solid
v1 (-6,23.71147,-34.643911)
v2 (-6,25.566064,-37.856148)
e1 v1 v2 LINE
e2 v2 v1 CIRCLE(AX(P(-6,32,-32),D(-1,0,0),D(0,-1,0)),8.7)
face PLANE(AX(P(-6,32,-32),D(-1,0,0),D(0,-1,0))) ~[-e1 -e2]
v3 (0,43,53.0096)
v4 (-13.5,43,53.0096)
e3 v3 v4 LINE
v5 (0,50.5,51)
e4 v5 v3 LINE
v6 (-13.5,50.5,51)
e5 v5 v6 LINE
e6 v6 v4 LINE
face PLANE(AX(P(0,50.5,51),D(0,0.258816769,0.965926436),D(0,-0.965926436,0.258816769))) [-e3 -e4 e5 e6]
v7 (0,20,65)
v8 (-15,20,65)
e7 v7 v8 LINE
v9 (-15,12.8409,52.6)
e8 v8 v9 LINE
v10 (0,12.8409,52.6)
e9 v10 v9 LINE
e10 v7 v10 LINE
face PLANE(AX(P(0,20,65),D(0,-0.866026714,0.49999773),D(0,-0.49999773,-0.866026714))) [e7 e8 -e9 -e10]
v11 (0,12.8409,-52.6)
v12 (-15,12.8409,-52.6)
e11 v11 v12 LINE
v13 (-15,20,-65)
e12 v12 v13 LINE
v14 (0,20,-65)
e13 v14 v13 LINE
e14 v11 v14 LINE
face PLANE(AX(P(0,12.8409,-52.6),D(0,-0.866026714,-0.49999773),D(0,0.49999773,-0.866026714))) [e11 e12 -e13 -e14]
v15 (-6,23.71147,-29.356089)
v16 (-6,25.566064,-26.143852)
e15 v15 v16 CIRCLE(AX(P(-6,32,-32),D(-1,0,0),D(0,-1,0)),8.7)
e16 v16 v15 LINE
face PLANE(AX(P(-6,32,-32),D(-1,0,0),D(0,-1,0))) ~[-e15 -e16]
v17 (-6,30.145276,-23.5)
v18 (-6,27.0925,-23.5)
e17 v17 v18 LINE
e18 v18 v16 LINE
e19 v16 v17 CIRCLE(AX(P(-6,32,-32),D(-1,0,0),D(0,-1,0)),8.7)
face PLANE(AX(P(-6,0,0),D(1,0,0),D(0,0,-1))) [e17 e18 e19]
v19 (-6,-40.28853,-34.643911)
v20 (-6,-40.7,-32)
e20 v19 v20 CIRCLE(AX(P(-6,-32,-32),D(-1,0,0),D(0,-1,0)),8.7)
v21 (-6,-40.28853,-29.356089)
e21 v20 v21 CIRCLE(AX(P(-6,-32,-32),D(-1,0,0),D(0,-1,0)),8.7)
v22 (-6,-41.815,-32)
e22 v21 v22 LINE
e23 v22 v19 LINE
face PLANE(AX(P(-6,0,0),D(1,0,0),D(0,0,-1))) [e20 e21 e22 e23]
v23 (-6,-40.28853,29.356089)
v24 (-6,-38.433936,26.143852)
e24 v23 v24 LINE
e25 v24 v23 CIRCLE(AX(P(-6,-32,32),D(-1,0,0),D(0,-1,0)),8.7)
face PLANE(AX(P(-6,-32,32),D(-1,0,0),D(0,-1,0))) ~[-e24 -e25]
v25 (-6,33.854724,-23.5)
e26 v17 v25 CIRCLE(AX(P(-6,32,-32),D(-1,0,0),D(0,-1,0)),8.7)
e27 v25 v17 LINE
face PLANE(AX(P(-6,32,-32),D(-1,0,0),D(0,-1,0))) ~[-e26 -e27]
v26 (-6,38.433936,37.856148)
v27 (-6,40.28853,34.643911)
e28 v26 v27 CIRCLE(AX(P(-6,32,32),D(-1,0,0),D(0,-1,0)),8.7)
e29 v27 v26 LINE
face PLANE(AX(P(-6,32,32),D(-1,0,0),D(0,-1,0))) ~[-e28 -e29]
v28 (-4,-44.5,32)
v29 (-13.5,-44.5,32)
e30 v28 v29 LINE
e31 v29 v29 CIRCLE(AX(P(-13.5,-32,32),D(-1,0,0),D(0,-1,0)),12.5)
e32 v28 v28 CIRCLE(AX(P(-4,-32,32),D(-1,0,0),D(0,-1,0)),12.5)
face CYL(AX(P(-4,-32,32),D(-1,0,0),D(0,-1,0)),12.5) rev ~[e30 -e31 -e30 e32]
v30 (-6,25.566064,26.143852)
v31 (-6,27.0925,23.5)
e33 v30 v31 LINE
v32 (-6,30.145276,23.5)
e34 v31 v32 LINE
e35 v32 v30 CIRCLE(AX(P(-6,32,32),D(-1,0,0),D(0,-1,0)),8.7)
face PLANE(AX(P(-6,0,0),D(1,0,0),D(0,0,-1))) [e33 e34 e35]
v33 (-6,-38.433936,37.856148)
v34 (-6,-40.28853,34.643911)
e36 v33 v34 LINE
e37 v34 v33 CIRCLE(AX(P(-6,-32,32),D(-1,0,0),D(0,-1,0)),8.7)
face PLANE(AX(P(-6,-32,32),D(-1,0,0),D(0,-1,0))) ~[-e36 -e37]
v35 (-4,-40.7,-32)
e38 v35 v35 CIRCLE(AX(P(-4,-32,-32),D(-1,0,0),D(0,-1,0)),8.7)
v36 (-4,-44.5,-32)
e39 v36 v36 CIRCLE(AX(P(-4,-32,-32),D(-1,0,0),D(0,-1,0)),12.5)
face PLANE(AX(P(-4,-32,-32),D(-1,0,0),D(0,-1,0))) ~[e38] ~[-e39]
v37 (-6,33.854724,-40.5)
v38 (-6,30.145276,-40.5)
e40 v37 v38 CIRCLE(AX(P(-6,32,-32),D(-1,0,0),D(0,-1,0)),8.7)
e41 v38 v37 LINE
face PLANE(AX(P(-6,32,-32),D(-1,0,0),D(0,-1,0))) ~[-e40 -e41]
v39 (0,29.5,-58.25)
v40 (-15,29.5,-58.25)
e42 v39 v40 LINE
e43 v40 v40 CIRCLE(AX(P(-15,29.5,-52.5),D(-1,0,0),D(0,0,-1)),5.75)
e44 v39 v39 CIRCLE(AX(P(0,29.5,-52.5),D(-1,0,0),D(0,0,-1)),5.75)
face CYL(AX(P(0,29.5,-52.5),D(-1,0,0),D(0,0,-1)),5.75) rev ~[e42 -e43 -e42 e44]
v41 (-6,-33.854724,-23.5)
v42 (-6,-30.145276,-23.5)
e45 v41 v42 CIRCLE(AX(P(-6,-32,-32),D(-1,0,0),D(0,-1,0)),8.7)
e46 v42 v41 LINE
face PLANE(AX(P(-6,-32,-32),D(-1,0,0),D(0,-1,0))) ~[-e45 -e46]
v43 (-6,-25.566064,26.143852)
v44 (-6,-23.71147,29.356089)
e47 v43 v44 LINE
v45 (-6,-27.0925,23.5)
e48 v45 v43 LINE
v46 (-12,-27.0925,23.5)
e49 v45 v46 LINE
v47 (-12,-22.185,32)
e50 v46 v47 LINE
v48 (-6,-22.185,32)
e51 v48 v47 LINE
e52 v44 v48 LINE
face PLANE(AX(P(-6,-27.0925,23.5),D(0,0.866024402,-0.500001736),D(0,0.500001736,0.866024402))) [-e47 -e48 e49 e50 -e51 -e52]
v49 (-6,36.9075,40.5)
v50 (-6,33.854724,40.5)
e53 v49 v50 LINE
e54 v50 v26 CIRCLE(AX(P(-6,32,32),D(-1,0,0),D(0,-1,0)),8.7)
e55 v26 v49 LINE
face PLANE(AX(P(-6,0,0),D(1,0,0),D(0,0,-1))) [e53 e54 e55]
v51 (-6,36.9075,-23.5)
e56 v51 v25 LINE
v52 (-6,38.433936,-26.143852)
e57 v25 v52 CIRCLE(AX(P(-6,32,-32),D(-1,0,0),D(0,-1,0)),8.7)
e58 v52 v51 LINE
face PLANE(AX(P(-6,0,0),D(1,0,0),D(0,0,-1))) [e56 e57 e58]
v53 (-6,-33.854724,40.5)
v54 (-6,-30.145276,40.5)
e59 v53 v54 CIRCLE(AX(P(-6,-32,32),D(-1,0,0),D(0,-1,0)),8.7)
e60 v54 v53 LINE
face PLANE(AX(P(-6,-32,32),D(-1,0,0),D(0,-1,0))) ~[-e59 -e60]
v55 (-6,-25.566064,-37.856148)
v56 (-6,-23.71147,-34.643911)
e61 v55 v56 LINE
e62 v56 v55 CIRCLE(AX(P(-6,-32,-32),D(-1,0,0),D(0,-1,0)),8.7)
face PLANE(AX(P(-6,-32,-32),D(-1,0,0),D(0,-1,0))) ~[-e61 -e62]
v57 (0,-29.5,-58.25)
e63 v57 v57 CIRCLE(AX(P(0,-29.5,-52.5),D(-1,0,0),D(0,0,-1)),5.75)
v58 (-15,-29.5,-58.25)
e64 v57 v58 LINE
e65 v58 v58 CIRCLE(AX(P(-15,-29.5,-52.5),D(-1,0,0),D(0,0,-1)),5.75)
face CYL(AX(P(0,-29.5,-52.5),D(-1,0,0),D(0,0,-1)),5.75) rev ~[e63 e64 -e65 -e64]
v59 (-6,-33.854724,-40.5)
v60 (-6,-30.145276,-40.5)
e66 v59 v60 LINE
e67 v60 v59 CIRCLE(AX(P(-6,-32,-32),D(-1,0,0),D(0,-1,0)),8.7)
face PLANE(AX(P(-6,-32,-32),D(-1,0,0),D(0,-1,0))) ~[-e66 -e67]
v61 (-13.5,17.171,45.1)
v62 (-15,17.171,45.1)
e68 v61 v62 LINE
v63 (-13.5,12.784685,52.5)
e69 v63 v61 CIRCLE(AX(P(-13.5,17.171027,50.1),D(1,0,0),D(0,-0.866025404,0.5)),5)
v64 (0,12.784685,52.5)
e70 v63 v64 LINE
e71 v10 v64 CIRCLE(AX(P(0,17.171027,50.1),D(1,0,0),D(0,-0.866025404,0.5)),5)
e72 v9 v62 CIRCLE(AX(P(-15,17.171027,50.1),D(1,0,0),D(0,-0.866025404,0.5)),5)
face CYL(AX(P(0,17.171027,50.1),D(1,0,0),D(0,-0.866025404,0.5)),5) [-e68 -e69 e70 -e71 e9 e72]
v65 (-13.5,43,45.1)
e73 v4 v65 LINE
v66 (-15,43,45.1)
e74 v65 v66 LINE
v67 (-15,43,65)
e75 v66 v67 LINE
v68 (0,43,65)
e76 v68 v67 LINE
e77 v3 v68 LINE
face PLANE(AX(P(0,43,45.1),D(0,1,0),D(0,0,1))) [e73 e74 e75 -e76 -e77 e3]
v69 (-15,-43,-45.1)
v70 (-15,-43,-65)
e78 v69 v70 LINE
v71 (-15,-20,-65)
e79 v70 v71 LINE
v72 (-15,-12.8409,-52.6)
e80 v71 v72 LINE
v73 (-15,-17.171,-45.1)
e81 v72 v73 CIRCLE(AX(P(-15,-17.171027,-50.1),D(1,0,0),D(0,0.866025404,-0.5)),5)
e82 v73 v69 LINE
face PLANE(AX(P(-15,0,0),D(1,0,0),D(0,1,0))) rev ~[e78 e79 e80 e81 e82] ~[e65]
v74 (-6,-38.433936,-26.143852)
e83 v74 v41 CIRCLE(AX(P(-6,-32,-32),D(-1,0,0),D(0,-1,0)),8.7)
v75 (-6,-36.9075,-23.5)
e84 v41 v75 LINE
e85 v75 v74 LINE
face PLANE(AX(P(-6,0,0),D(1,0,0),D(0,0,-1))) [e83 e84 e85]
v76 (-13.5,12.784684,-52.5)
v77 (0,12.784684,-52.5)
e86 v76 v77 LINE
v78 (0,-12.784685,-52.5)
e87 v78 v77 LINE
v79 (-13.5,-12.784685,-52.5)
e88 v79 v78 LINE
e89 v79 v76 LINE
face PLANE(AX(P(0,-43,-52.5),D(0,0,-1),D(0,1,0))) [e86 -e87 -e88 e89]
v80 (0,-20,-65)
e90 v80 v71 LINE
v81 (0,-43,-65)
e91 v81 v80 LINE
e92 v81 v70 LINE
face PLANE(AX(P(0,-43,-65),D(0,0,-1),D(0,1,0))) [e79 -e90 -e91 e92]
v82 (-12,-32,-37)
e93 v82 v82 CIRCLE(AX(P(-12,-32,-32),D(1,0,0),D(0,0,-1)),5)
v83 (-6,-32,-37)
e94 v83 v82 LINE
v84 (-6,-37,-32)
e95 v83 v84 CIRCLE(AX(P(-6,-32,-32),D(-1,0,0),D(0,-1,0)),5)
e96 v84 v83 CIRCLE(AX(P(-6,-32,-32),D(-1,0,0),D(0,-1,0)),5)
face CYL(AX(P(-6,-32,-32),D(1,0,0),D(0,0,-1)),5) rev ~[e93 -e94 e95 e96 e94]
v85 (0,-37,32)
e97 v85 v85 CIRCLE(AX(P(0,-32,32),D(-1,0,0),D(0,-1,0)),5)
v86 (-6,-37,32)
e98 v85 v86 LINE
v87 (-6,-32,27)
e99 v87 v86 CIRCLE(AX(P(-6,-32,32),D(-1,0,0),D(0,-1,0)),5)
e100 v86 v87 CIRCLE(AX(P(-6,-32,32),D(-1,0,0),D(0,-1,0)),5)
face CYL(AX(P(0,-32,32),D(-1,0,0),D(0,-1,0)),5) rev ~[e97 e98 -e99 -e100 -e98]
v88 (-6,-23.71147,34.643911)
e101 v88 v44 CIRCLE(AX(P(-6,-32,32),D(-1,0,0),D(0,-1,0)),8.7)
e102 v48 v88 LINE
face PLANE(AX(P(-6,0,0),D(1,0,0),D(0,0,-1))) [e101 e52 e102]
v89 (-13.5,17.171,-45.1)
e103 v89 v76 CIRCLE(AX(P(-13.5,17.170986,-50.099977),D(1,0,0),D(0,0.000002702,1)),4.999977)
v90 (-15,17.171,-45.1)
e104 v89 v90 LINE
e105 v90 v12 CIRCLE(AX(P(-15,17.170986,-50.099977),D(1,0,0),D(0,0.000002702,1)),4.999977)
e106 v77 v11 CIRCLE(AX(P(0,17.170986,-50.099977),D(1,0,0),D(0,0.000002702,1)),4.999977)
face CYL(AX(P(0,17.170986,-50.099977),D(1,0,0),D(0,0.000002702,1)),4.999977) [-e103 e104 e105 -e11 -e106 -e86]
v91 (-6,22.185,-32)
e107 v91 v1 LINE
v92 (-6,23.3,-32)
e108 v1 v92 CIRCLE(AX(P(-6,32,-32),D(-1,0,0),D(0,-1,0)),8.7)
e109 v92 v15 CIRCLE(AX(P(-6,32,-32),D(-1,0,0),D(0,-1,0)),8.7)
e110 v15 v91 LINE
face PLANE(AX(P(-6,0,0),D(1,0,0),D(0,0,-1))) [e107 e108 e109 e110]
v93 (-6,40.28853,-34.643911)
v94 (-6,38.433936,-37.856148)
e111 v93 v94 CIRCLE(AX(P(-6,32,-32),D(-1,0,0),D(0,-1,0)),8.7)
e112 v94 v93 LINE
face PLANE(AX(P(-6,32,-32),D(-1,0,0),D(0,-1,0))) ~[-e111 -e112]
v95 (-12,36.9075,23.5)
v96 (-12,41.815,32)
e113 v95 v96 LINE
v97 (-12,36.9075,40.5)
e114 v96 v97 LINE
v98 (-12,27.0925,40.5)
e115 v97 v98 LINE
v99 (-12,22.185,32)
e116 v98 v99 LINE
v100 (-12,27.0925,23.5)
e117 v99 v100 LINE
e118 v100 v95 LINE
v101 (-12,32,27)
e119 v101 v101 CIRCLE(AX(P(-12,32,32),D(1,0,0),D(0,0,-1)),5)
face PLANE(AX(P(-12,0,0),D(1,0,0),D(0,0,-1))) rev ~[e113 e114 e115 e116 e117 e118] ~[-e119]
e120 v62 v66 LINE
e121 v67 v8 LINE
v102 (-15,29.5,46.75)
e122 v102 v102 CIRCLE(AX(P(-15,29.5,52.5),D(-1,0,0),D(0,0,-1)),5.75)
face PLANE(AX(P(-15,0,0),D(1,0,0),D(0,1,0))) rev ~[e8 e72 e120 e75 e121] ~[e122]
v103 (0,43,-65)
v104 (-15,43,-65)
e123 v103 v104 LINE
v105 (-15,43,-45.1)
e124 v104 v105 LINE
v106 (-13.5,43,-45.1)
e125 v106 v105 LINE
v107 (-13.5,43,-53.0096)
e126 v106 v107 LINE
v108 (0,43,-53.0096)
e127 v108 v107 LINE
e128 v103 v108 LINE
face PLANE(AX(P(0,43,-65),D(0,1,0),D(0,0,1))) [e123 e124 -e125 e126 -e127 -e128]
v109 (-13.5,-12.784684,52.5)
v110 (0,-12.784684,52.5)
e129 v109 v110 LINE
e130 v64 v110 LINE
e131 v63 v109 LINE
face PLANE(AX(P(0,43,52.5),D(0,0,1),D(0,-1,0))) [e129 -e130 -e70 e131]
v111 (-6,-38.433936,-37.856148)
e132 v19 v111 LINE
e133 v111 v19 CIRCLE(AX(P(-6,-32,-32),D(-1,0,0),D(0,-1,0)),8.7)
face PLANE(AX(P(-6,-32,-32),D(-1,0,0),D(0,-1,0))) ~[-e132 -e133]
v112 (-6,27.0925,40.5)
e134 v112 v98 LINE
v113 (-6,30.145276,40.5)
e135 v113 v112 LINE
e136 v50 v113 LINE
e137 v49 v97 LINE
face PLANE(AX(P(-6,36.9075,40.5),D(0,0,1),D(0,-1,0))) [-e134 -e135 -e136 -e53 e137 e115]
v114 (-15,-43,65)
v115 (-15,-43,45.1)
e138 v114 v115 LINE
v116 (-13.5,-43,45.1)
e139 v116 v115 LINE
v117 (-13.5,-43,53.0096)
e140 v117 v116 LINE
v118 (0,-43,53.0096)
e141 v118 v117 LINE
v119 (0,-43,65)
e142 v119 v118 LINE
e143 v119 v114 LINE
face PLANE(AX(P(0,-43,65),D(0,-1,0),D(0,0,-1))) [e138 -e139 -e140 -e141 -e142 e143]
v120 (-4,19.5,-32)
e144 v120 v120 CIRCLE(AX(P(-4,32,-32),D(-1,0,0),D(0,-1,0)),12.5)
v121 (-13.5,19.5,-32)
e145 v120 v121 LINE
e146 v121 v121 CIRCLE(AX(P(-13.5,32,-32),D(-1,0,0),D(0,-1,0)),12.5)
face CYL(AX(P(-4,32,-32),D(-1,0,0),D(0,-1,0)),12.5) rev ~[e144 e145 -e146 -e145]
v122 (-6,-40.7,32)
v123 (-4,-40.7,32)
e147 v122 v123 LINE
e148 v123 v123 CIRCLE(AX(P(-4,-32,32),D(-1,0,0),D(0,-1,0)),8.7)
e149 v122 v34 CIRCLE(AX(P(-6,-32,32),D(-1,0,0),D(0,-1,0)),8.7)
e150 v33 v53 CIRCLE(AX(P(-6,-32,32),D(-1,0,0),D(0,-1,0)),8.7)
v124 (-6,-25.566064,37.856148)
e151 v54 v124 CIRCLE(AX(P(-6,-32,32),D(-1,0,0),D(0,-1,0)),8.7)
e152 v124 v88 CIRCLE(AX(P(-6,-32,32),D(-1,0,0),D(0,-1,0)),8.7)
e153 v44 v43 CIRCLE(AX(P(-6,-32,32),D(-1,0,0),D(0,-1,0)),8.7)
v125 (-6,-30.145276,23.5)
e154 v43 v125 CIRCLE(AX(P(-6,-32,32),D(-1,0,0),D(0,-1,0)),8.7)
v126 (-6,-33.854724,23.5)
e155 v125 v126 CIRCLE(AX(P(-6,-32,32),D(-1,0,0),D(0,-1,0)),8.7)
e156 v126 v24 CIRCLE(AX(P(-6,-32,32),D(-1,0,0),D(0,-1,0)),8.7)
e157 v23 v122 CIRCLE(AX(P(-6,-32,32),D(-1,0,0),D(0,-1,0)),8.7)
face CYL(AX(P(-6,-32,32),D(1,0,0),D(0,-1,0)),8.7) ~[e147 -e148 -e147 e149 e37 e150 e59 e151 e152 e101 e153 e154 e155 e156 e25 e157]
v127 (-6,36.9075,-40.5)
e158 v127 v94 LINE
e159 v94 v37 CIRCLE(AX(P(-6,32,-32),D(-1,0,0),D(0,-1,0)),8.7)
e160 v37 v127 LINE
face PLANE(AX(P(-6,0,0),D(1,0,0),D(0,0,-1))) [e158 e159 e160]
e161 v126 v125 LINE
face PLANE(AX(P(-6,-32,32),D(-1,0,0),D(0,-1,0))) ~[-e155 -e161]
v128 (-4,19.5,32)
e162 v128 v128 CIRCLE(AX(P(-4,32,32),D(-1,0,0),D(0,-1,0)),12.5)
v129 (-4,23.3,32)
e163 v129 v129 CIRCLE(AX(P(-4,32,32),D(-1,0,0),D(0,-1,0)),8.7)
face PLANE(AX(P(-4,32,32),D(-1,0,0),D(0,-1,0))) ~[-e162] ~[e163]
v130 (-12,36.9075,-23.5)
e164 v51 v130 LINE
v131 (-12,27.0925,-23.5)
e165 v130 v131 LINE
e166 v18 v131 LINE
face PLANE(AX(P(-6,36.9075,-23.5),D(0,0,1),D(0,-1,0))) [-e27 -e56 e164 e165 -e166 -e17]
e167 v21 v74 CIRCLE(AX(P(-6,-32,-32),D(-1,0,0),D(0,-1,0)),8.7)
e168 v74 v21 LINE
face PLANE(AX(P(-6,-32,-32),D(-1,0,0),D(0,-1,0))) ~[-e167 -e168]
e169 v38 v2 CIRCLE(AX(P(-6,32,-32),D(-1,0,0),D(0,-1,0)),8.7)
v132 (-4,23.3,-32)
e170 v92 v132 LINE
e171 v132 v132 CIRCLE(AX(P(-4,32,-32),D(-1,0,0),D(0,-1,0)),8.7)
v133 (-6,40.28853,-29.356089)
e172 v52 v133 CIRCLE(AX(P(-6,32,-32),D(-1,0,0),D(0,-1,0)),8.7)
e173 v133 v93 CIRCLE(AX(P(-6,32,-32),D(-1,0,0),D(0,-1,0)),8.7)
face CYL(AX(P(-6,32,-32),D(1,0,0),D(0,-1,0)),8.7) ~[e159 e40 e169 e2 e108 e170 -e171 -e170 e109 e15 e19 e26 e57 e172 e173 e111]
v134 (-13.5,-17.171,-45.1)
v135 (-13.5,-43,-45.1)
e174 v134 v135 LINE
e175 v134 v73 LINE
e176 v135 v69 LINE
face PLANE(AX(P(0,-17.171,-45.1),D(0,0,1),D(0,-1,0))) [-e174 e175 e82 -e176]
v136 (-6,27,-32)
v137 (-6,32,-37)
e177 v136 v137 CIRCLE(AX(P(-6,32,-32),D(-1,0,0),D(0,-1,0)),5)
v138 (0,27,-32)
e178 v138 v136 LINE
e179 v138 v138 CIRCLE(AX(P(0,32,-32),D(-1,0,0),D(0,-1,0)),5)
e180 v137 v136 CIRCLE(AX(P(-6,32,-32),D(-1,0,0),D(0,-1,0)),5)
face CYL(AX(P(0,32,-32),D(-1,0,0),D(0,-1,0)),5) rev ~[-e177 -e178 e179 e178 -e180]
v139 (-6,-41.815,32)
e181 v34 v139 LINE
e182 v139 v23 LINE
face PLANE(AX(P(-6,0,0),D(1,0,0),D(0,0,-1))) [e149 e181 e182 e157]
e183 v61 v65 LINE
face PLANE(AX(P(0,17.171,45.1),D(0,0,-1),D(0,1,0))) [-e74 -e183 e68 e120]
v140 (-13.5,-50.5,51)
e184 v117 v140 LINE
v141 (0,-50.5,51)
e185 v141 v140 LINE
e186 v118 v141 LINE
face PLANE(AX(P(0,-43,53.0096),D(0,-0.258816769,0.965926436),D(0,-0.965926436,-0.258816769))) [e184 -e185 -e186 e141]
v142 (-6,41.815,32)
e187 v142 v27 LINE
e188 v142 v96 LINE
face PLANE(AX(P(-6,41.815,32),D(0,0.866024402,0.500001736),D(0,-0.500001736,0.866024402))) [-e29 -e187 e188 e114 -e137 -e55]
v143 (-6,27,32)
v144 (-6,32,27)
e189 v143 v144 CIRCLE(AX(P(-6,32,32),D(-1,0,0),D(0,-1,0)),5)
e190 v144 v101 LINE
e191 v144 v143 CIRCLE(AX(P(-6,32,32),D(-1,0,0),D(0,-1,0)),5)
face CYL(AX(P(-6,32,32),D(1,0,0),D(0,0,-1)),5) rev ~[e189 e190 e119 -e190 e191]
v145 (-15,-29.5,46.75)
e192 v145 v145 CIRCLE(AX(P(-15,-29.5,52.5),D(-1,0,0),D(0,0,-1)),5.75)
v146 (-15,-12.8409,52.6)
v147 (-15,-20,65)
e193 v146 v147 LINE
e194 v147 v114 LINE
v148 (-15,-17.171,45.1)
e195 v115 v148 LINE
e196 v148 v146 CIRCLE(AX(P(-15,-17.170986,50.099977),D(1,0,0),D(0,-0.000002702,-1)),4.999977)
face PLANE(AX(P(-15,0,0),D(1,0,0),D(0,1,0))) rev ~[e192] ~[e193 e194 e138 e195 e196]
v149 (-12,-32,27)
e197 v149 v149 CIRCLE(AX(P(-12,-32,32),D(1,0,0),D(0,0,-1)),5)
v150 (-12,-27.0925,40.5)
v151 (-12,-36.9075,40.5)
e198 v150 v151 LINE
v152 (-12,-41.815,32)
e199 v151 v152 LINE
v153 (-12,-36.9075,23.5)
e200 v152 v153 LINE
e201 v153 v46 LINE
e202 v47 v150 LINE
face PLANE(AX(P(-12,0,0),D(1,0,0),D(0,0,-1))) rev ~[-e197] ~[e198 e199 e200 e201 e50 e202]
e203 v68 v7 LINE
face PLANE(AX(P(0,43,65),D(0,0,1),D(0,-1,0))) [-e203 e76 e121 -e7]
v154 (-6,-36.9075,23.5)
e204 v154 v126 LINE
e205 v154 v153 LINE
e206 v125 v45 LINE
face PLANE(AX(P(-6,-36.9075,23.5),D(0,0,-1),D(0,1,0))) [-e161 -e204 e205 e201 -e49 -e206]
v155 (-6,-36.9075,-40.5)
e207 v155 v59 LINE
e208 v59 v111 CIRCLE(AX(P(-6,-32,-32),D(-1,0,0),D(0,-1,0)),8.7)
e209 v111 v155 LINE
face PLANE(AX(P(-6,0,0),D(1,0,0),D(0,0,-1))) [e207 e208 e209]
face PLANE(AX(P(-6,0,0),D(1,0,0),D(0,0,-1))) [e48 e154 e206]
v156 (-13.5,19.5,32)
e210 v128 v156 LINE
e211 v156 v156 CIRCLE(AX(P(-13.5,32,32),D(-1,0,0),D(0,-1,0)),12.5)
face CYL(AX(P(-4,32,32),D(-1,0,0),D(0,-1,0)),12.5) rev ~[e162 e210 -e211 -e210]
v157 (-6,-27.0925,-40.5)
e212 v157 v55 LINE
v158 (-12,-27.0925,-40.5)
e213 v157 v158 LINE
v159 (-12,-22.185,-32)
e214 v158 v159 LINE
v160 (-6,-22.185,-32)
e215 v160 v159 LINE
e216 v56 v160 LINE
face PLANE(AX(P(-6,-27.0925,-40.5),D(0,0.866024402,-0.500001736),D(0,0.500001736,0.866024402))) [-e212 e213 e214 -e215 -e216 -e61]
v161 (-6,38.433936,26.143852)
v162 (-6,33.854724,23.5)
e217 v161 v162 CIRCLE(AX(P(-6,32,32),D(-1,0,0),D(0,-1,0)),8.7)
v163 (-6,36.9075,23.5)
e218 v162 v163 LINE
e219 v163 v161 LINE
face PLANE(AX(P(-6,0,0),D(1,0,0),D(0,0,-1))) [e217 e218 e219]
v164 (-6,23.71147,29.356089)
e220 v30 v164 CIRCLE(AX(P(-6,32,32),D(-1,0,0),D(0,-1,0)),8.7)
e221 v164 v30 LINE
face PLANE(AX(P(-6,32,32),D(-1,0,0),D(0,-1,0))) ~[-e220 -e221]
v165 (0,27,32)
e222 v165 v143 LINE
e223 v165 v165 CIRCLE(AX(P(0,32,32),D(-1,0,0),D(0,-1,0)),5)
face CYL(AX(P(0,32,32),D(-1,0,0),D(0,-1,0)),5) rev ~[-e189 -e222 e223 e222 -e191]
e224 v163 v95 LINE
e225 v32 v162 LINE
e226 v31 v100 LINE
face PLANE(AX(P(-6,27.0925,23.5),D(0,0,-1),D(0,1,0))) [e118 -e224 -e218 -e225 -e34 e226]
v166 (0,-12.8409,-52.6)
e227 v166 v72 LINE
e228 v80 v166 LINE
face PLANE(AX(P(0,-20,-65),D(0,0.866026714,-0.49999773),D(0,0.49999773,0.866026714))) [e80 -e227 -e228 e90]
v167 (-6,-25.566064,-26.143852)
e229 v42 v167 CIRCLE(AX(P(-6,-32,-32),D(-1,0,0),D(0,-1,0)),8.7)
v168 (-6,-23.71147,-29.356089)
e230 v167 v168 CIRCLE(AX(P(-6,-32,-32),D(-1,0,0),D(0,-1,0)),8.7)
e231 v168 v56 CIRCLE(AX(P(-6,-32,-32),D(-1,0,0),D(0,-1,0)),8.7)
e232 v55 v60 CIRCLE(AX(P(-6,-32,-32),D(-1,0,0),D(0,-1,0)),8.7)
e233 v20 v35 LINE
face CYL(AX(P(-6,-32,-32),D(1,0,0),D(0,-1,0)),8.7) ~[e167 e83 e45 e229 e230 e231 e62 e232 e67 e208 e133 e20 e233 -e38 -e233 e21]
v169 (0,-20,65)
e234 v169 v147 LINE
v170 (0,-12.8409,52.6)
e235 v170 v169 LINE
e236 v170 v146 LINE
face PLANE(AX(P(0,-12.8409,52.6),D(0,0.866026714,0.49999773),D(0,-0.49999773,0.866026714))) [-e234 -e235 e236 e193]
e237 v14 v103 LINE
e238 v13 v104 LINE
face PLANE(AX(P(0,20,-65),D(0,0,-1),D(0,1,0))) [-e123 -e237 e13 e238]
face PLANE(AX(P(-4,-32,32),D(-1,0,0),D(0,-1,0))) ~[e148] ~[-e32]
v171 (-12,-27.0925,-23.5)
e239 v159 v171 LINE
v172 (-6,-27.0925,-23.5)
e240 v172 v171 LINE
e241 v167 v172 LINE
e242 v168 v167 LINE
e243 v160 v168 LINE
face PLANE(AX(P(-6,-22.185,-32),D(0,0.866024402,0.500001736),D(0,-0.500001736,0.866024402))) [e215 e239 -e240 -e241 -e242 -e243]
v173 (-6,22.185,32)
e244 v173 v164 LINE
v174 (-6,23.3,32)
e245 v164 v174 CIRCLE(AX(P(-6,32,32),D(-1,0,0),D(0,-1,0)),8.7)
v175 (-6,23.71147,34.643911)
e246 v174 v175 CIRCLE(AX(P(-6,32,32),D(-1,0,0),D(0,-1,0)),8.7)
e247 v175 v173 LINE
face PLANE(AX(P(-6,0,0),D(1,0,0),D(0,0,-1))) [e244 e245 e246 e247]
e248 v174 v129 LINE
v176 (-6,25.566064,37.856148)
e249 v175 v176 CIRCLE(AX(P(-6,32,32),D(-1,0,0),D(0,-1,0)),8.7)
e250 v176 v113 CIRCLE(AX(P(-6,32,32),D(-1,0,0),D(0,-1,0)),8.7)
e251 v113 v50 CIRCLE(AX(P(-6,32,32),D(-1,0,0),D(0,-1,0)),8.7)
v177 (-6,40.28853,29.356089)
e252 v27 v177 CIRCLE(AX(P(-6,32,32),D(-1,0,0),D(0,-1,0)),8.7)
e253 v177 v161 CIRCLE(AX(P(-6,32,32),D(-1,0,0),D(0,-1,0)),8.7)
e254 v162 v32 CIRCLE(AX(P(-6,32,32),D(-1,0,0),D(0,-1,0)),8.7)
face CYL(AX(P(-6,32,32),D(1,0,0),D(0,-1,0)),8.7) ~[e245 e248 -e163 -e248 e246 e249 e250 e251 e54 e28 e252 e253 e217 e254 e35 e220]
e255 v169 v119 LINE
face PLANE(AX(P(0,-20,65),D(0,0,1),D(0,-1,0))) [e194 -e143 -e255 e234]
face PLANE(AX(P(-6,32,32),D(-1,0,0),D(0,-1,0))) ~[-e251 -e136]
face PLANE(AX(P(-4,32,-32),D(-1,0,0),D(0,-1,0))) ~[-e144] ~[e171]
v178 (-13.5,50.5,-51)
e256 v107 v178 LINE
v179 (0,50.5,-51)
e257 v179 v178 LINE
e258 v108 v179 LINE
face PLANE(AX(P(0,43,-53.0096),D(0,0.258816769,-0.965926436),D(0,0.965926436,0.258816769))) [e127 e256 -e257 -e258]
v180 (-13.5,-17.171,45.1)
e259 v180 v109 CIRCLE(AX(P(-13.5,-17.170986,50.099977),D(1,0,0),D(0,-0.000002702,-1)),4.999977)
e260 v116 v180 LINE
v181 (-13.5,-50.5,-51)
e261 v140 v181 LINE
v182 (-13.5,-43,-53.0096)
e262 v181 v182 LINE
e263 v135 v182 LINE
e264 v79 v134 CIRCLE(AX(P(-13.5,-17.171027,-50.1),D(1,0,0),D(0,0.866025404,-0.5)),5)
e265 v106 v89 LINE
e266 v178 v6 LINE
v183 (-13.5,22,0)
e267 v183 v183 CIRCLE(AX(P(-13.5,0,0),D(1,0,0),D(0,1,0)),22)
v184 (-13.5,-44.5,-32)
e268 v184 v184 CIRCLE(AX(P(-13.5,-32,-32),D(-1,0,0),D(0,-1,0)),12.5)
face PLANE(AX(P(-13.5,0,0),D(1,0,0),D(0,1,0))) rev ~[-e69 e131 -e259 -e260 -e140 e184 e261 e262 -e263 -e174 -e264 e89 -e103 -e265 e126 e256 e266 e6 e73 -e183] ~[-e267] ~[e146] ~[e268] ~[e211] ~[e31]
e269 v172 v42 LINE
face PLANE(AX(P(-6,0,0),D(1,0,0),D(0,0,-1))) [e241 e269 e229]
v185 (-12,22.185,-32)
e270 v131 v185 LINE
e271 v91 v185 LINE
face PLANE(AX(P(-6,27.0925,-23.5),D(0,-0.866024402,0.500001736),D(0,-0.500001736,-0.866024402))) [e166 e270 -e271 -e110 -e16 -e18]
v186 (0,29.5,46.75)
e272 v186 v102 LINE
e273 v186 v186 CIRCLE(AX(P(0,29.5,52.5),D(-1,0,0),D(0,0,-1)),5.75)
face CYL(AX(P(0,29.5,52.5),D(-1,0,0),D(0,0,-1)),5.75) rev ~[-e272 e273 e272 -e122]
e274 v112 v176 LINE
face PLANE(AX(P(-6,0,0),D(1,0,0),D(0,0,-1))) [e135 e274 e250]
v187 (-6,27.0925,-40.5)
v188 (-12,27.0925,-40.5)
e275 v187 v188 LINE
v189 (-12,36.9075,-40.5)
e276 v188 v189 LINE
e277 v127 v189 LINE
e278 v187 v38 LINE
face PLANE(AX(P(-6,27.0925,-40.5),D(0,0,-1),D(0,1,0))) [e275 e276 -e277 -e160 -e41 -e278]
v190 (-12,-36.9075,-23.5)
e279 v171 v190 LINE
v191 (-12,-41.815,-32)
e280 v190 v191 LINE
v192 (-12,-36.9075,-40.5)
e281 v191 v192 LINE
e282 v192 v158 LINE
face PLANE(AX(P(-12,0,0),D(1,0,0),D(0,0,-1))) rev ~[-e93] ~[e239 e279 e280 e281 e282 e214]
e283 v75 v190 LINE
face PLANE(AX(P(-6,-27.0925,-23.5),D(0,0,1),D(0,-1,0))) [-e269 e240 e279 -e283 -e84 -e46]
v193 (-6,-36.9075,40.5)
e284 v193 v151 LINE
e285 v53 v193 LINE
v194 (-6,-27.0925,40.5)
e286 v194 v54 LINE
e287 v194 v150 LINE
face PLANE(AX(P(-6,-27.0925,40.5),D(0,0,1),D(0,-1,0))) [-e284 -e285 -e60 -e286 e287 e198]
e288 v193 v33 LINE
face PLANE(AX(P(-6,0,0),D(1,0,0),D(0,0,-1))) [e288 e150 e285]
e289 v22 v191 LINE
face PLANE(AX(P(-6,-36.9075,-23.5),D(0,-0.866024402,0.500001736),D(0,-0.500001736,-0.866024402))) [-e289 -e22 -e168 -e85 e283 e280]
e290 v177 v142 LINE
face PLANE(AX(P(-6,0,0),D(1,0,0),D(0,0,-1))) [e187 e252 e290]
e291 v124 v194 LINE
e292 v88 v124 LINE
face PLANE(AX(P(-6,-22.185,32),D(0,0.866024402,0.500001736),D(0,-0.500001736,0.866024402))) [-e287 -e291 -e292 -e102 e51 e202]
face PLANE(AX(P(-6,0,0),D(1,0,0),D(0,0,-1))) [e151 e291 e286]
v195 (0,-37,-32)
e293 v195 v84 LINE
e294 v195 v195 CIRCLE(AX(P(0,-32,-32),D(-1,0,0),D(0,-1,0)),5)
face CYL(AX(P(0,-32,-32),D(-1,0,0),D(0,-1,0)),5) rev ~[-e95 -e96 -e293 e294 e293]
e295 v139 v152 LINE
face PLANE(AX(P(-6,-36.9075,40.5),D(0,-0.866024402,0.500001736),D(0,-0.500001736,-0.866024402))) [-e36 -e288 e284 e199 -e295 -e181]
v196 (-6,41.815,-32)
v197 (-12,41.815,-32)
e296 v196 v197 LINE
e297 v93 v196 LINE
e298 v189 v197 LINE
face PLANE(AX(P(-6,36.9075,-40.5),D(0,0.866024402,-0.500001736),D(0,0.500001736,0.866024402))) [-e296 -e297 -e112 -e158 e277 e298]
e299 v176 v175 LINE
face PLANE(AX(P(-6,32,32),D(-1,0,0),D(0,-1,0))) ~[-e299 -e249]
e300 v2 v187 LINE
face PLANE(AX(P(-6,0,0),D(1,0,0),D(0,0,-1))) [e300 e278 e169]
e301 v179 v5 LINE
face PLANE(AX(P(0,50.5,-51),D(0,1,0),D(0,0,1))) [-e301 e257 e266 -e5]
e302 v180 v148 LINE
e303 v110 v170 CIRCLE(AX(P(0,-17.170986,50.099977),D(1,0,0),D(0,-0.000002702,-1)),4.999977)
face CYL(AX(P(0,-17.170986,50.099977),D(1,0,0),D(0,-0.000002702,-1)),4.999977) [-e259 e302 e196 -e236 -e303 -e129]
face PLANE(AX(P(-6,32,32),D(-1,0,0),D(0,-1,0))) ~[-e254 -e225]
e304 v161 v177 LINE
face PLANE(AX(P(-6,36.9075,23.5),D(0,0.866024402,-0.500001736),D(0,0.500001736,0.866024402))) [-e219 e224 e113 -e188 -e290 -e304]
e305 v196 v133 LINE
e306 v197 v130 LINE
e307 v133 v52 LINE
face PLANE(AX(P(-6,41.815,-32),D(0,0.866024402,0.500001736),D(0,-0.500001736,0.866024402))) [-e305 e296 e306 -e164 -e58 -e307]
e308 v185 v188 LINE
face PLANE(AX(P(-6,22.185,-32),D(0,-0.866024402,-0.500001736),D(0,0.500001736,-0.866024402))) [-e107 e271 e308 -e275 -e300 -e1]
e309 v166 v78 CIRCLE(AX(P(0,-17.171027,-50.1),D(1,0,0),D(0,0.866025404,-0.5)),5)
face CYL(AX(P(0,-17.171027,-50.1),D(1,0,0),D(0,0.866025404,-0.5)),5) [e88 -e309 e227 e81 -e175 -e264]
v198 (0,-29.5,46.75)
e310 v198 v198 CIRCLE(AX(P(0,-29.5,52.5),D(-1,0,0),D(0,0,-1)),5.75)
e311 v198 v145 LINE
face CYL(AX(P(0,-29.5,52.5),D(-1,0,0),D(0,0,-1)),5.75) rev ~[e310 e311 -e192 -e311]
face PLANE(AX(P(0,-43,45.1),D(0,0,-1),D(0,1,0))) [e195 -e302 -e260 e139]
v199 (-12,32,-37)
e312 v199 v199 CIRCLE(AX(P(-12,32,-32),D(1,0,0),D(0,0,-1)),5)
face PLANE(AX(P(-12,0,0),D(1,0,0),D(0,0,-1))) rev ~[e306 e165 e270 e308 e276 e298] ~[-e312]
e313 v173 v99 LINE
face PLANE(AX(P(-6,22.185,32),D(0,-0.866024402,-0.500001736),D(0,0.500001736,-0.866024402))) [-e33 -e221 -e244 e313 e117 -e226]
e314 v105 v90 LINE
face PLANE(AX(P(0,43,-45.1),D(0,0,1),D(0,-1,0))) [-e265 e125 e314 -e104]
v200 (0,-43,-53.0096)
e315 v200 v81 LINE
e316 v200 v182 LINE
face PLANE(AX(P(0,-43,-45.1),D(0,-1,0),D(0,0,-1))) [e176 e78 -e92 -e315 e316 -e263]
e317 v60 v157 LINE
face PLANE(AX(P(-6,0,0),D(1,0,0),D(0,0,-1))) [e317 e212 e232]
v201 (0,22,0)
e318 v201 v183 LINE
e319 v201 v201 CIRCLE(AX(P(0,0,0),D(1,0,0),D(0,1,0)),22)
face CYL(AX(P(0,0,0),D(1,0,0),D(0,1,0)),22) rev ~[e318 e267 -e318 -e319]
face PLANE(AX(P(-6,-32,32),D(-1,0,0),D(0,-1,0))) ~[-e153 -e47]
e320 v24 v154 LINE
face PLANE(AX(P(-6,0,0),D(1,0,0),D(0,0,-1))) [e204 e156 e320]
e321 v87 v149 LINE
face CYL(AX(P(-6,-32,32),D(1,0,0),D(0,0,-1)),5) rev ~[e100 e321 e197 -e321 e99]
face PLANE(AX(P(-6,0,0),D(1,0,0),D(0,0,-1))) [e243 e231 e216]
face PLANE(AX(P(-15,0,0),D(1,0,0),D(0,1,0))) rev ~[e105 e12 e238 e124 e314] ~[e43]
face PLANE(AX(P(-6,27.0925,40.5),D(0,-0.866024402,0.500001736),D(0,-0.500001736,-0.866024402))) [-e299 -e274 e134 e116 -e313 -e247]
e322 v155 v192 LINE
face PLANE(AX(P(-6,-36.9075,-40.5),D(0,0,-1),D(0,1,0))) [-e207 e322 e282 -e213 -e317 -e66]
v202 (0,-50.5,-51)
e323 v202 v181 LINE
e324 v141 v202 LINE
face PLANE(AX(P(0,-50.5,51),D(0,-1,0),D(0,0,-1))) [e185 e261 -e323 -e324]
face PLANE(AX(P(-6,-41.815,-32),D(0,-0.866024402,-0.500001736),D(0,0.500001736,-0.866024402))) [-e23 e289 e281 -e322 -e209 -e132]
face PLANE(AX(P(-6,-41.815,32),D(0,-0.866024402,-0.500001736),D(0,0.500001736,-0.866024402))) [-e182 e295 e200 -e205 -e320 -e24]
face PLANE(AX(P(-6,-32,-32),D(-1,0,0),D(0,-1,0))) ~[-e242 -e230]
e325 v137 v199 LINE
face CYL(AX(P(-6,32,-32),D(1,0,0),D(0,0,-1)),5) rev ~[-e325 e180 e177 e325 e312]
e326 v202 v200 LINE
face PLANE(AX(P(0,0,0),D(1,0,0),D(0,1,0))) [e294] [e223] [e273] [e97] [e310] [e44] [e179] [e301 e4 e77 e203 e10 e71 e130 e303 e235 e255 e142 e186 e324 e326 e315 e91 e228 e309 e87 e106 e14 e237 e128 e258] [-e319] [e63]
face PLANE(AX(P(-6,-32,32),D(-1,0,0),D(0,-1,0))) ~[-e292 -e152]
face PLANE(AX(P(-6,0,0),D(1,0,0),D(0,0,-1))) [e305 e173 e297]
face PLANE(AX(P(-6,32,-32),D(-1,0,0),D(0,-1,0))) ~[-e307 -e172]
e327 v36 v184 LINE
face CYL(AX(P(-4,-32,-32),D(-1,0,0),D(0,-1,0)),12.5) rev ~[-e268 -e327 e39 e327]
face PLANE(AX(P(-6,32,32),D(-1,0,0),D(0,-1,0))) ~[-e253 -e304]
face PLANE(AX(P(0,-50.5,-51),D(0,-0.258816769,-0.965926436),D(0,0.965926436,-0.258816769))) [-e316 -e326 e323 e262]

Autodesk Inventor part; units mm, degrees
sketch "Sketch_1" plane through (0, 0, 0) normal (1, 0, 0) x (0, 1, 0)
  line L0 (43, 53.0096) -> (43, 52.5)
  line L1 (43, 52.5) -> (-43, 52.5)
  line L2 (-43, 52.5) -> (-43, 53.0096)
  line L3 (-43, 53.0096) -> (-50.5, 51)
  line L4 (-50.5, 51) -> (-50.5, -51)
  line L5 (-50.5, -51) -> (-43, -53.0096)
  line L6 (-43, -53.0096) -> (-43, -52.5)
  line L7 (-43, -52.5) -> (43, -52.5)
  line L8 (43, -52.5) -> (43, -53.0096)
  line L9 (43, -53.0096) -> (50.5, -51)
  line L10 (50.5, -51) -> (50.5, 51)
  line L11 (50.5, 51) -> (43, 53.0096)
  circle A0 centre (0, 0) radius 22
extrude "Extrusion1" add sketch "Sketch_1" against normal blind 13.5
sketch "Sketch_2" plane through (0, 0, 0) normal (1, 0, 0) x (0, 1, 0)
  line L0 (-17.171, -45.1) -> (-43, -45.1)
  line L1 (-43, -45.1) -> (-43, -65)
  line L2 (-43, -65) -> (-20, -65)
  line L3 (-20, -65) -> (-12.8409, -52.6)
  arc A0 (-12.8409, -52.6) -> (-17.171, -45.1) centre (-17.171, -50.1) ccw
extrude "Extrusion2" add sketch "Sketch_2" against normal blind 15
sketch "Sketch_3" plane through (0, 0, 0) normal (1, 0, 0) x (0, 1, 0)
  arc A0 (17.171, -45.1) -> (12.8409, -52.6) centre (17.171, -50.1) ccw
  line L0 (12.8409, -52.6) -> (20, -65)
  line L1 (20, -65) -> (43, -65)
  line L2 (43, -65) -> (43, -45.1)
  line L3 (43, -45.1) -> (17.171, -45.1)
extrude "Extrusion3" add sketch "Sketch_3" against normal blind 15
sketch "Sketch_4" plane through (0, 0, 0) normal (1, 0, 0) x (0, 1, 0)
  line L0 (-20, 65) -> (-43, 65)
  line L1 (-43, 65) -> (-43, 45.1)
  line L2 (-43, 45.1) -> (-17.171, 45.1)
  arc A0 (-17.171, 45.1) -> (-12.8409, 52.6) centre (-17.171, 50.1) ccw
  line L3 (-12.8409, 52.6) -> (-20, 65)
extrude "Extrusion4" add sketch "Sketch_4" against normal blind 15
sketch "Sketch_5" plane through (0, 0, 0) normal (1, 0, 0) x (0, 1, 0)
  line L0 (20, 65) -> (12.8409, 52.6)
  arc A0 (12.8409, 52.6) -> (17.171, 45.1) centre (17.171, 50.1) ccw
  line L1 (17.171, 45.1) -> (43, 45.1)
  line L2 (43, 45.1) -> (43, 65)
  line L3 (43, 65) -> (20, 65)
extrude "Extrusion5" add sketch "Sketch_5" against normal blind 15
sketch "Sketch6" plane through (0, 0, 0) normal (1, 0, 0) x (0, 0, -1)
  point P0 (52.5, 29.5)
hole "Hole1" at (0, 29.5, -52.5) direction (-1, 0, 0) diameter 11.5 depth 15
pattern_linear "Rectangular Pattern1" count 2 spacing 105 along (0, 0, 1) count 2 spacing 59 along (0, -1, 0) of "Hole1"
sketch "Sketch_8" plane through (0, 0, -32) normal (0, 0, 1) x (1, 0, 0)
  line L0 (-15, 32) -> (0, 32)
  line L1 (0, 32) -> (0, 27)
  line L2 (0, 27) -> (-6, 27)
  line L3 (-6, 27) -> (-6, 23.3)
  line L4 (-6, 23.3) -> (-4, 23.3)
  line L5 (-4, 23.3) -> (-4, 19.5)
  line L6 (-4, 19.5) -> (-15, 19.5)
  line L7 (-15, 19.5) -> (-15, 32)
  line L8 (-15, 32) -> (0, 32)
revolve "Revolution1" cut sketch "Sketch_8" angle 360 about axis through (-15, 32, -32) along (-1, 0, 0)
pattern_linear "Rectangular Pattern2" count 2 spacing 64 along (0, 0, 1) count 2 spacing 64 along (0, -1, 0) of "Revolution1"
sketch "Sketch_10" plane through (-6, 0, 0) normal (1, 0, 0) x (0, 0, -1)
  line L0 (23.5, 27.0925) -> (32, 22.185)
  line L1 (32, 22.185) -> (40.5, 27.0925)
  line L2 (40.5, 27.0925) -> (40.5, 36.9075)
  line L3 (40.5, 36.9075) -> (32, 41.815)
  line L4 (32, 41.815) -> (23.5, 36.9075)
  line L5 (23.5, 36.9075) -> (23.5, 27.0925)
  circle A0 centre (32, 32) radius 5
extrude "Extrusion6" add sketch "Sketch_10" against normal blind 6
sketch "Sketch_11" plane through (-6, 0, 0) normal (1, 0, 0) x (0, 0, -1)
  line L0 (-40.5, 27.0925) -> (-32, 22.185)
  line L1 (-32, 22.185) -> (-23.5, 27.0925)
  line L2 (-23.5, 27.0925) -> (-23.5, 36.9075)
  line L3 (-23.5, 36.9075) -> (-32, 41.815)
  line L4 (-32, 41.815) -> (-40.5, 36.9075)
  line L5 (-40.5, 36.9075) -> (-40.5, 27.0925)
  circle A0 centre (-32, 32) radius 5
extrude "Extrusion7" add sketch "Sketch_11" against normal blind 6
sketch "Sketch_13" plane through (-6, 0, 0) normal (1, 0, 0) x (0, 0, -1)
  line L0 (-40.5, -36.9075) -> (-32, -41.815)
  line L1 (-32, -41.815) -> (-23.5, -36.9075)
  line L2 (-23.5, -36.9075) -> (-23.5, -27.0925)
  line L3 (-23.5, -27.0925) -> (-32, -22.185)
  line L4 (-32, -22.185) -> (-40.5, -27.0925)
  line L5 (-40.5, -27.0925) -> (-40.5, -36.9075)
  circle A0 centre (-32, -32) radius 5
extrude "Extrusion8" add sketch "Sketch_13" against normal blind 6
sketch "Sketch_14" plane through (-6, 0, 0) normal (1, 0, 0) x (0, 0, -1)
  line L0 (23.5, -36.9075) -> (32, -41.815)
  line L1 (32, -41.815) -> (40.5, -36.9075)
  line L2 (40.5, -36.9075) -> (40.5, -27.0925)
  line L3 (40.5, -27.0925) -> (32, -22.185)
  line L4 (32, -22.185) -> (23.5, -27.0925)
  line L5 (23.5, -27.0925) -> (23.5, -36.9075)
  circle A0 centre (32, -32) radius 5
extrude "Extrusion9" add sketch "Sketch_14" against normal blind 6
ref_plane "f_XY" through (0, 0, 0) normal (1, 0, 0) x (0, 0, -1)
ref_plane "f_YZ" through (0, 0, 0) normal (0, 0, -1) x (0, 1, 0)
ref_plane "f_ZX" through (0, 0, 0) normal (0, 1, 0) x (1, 0, 0)
properties part number "CA1-F06(F)"
